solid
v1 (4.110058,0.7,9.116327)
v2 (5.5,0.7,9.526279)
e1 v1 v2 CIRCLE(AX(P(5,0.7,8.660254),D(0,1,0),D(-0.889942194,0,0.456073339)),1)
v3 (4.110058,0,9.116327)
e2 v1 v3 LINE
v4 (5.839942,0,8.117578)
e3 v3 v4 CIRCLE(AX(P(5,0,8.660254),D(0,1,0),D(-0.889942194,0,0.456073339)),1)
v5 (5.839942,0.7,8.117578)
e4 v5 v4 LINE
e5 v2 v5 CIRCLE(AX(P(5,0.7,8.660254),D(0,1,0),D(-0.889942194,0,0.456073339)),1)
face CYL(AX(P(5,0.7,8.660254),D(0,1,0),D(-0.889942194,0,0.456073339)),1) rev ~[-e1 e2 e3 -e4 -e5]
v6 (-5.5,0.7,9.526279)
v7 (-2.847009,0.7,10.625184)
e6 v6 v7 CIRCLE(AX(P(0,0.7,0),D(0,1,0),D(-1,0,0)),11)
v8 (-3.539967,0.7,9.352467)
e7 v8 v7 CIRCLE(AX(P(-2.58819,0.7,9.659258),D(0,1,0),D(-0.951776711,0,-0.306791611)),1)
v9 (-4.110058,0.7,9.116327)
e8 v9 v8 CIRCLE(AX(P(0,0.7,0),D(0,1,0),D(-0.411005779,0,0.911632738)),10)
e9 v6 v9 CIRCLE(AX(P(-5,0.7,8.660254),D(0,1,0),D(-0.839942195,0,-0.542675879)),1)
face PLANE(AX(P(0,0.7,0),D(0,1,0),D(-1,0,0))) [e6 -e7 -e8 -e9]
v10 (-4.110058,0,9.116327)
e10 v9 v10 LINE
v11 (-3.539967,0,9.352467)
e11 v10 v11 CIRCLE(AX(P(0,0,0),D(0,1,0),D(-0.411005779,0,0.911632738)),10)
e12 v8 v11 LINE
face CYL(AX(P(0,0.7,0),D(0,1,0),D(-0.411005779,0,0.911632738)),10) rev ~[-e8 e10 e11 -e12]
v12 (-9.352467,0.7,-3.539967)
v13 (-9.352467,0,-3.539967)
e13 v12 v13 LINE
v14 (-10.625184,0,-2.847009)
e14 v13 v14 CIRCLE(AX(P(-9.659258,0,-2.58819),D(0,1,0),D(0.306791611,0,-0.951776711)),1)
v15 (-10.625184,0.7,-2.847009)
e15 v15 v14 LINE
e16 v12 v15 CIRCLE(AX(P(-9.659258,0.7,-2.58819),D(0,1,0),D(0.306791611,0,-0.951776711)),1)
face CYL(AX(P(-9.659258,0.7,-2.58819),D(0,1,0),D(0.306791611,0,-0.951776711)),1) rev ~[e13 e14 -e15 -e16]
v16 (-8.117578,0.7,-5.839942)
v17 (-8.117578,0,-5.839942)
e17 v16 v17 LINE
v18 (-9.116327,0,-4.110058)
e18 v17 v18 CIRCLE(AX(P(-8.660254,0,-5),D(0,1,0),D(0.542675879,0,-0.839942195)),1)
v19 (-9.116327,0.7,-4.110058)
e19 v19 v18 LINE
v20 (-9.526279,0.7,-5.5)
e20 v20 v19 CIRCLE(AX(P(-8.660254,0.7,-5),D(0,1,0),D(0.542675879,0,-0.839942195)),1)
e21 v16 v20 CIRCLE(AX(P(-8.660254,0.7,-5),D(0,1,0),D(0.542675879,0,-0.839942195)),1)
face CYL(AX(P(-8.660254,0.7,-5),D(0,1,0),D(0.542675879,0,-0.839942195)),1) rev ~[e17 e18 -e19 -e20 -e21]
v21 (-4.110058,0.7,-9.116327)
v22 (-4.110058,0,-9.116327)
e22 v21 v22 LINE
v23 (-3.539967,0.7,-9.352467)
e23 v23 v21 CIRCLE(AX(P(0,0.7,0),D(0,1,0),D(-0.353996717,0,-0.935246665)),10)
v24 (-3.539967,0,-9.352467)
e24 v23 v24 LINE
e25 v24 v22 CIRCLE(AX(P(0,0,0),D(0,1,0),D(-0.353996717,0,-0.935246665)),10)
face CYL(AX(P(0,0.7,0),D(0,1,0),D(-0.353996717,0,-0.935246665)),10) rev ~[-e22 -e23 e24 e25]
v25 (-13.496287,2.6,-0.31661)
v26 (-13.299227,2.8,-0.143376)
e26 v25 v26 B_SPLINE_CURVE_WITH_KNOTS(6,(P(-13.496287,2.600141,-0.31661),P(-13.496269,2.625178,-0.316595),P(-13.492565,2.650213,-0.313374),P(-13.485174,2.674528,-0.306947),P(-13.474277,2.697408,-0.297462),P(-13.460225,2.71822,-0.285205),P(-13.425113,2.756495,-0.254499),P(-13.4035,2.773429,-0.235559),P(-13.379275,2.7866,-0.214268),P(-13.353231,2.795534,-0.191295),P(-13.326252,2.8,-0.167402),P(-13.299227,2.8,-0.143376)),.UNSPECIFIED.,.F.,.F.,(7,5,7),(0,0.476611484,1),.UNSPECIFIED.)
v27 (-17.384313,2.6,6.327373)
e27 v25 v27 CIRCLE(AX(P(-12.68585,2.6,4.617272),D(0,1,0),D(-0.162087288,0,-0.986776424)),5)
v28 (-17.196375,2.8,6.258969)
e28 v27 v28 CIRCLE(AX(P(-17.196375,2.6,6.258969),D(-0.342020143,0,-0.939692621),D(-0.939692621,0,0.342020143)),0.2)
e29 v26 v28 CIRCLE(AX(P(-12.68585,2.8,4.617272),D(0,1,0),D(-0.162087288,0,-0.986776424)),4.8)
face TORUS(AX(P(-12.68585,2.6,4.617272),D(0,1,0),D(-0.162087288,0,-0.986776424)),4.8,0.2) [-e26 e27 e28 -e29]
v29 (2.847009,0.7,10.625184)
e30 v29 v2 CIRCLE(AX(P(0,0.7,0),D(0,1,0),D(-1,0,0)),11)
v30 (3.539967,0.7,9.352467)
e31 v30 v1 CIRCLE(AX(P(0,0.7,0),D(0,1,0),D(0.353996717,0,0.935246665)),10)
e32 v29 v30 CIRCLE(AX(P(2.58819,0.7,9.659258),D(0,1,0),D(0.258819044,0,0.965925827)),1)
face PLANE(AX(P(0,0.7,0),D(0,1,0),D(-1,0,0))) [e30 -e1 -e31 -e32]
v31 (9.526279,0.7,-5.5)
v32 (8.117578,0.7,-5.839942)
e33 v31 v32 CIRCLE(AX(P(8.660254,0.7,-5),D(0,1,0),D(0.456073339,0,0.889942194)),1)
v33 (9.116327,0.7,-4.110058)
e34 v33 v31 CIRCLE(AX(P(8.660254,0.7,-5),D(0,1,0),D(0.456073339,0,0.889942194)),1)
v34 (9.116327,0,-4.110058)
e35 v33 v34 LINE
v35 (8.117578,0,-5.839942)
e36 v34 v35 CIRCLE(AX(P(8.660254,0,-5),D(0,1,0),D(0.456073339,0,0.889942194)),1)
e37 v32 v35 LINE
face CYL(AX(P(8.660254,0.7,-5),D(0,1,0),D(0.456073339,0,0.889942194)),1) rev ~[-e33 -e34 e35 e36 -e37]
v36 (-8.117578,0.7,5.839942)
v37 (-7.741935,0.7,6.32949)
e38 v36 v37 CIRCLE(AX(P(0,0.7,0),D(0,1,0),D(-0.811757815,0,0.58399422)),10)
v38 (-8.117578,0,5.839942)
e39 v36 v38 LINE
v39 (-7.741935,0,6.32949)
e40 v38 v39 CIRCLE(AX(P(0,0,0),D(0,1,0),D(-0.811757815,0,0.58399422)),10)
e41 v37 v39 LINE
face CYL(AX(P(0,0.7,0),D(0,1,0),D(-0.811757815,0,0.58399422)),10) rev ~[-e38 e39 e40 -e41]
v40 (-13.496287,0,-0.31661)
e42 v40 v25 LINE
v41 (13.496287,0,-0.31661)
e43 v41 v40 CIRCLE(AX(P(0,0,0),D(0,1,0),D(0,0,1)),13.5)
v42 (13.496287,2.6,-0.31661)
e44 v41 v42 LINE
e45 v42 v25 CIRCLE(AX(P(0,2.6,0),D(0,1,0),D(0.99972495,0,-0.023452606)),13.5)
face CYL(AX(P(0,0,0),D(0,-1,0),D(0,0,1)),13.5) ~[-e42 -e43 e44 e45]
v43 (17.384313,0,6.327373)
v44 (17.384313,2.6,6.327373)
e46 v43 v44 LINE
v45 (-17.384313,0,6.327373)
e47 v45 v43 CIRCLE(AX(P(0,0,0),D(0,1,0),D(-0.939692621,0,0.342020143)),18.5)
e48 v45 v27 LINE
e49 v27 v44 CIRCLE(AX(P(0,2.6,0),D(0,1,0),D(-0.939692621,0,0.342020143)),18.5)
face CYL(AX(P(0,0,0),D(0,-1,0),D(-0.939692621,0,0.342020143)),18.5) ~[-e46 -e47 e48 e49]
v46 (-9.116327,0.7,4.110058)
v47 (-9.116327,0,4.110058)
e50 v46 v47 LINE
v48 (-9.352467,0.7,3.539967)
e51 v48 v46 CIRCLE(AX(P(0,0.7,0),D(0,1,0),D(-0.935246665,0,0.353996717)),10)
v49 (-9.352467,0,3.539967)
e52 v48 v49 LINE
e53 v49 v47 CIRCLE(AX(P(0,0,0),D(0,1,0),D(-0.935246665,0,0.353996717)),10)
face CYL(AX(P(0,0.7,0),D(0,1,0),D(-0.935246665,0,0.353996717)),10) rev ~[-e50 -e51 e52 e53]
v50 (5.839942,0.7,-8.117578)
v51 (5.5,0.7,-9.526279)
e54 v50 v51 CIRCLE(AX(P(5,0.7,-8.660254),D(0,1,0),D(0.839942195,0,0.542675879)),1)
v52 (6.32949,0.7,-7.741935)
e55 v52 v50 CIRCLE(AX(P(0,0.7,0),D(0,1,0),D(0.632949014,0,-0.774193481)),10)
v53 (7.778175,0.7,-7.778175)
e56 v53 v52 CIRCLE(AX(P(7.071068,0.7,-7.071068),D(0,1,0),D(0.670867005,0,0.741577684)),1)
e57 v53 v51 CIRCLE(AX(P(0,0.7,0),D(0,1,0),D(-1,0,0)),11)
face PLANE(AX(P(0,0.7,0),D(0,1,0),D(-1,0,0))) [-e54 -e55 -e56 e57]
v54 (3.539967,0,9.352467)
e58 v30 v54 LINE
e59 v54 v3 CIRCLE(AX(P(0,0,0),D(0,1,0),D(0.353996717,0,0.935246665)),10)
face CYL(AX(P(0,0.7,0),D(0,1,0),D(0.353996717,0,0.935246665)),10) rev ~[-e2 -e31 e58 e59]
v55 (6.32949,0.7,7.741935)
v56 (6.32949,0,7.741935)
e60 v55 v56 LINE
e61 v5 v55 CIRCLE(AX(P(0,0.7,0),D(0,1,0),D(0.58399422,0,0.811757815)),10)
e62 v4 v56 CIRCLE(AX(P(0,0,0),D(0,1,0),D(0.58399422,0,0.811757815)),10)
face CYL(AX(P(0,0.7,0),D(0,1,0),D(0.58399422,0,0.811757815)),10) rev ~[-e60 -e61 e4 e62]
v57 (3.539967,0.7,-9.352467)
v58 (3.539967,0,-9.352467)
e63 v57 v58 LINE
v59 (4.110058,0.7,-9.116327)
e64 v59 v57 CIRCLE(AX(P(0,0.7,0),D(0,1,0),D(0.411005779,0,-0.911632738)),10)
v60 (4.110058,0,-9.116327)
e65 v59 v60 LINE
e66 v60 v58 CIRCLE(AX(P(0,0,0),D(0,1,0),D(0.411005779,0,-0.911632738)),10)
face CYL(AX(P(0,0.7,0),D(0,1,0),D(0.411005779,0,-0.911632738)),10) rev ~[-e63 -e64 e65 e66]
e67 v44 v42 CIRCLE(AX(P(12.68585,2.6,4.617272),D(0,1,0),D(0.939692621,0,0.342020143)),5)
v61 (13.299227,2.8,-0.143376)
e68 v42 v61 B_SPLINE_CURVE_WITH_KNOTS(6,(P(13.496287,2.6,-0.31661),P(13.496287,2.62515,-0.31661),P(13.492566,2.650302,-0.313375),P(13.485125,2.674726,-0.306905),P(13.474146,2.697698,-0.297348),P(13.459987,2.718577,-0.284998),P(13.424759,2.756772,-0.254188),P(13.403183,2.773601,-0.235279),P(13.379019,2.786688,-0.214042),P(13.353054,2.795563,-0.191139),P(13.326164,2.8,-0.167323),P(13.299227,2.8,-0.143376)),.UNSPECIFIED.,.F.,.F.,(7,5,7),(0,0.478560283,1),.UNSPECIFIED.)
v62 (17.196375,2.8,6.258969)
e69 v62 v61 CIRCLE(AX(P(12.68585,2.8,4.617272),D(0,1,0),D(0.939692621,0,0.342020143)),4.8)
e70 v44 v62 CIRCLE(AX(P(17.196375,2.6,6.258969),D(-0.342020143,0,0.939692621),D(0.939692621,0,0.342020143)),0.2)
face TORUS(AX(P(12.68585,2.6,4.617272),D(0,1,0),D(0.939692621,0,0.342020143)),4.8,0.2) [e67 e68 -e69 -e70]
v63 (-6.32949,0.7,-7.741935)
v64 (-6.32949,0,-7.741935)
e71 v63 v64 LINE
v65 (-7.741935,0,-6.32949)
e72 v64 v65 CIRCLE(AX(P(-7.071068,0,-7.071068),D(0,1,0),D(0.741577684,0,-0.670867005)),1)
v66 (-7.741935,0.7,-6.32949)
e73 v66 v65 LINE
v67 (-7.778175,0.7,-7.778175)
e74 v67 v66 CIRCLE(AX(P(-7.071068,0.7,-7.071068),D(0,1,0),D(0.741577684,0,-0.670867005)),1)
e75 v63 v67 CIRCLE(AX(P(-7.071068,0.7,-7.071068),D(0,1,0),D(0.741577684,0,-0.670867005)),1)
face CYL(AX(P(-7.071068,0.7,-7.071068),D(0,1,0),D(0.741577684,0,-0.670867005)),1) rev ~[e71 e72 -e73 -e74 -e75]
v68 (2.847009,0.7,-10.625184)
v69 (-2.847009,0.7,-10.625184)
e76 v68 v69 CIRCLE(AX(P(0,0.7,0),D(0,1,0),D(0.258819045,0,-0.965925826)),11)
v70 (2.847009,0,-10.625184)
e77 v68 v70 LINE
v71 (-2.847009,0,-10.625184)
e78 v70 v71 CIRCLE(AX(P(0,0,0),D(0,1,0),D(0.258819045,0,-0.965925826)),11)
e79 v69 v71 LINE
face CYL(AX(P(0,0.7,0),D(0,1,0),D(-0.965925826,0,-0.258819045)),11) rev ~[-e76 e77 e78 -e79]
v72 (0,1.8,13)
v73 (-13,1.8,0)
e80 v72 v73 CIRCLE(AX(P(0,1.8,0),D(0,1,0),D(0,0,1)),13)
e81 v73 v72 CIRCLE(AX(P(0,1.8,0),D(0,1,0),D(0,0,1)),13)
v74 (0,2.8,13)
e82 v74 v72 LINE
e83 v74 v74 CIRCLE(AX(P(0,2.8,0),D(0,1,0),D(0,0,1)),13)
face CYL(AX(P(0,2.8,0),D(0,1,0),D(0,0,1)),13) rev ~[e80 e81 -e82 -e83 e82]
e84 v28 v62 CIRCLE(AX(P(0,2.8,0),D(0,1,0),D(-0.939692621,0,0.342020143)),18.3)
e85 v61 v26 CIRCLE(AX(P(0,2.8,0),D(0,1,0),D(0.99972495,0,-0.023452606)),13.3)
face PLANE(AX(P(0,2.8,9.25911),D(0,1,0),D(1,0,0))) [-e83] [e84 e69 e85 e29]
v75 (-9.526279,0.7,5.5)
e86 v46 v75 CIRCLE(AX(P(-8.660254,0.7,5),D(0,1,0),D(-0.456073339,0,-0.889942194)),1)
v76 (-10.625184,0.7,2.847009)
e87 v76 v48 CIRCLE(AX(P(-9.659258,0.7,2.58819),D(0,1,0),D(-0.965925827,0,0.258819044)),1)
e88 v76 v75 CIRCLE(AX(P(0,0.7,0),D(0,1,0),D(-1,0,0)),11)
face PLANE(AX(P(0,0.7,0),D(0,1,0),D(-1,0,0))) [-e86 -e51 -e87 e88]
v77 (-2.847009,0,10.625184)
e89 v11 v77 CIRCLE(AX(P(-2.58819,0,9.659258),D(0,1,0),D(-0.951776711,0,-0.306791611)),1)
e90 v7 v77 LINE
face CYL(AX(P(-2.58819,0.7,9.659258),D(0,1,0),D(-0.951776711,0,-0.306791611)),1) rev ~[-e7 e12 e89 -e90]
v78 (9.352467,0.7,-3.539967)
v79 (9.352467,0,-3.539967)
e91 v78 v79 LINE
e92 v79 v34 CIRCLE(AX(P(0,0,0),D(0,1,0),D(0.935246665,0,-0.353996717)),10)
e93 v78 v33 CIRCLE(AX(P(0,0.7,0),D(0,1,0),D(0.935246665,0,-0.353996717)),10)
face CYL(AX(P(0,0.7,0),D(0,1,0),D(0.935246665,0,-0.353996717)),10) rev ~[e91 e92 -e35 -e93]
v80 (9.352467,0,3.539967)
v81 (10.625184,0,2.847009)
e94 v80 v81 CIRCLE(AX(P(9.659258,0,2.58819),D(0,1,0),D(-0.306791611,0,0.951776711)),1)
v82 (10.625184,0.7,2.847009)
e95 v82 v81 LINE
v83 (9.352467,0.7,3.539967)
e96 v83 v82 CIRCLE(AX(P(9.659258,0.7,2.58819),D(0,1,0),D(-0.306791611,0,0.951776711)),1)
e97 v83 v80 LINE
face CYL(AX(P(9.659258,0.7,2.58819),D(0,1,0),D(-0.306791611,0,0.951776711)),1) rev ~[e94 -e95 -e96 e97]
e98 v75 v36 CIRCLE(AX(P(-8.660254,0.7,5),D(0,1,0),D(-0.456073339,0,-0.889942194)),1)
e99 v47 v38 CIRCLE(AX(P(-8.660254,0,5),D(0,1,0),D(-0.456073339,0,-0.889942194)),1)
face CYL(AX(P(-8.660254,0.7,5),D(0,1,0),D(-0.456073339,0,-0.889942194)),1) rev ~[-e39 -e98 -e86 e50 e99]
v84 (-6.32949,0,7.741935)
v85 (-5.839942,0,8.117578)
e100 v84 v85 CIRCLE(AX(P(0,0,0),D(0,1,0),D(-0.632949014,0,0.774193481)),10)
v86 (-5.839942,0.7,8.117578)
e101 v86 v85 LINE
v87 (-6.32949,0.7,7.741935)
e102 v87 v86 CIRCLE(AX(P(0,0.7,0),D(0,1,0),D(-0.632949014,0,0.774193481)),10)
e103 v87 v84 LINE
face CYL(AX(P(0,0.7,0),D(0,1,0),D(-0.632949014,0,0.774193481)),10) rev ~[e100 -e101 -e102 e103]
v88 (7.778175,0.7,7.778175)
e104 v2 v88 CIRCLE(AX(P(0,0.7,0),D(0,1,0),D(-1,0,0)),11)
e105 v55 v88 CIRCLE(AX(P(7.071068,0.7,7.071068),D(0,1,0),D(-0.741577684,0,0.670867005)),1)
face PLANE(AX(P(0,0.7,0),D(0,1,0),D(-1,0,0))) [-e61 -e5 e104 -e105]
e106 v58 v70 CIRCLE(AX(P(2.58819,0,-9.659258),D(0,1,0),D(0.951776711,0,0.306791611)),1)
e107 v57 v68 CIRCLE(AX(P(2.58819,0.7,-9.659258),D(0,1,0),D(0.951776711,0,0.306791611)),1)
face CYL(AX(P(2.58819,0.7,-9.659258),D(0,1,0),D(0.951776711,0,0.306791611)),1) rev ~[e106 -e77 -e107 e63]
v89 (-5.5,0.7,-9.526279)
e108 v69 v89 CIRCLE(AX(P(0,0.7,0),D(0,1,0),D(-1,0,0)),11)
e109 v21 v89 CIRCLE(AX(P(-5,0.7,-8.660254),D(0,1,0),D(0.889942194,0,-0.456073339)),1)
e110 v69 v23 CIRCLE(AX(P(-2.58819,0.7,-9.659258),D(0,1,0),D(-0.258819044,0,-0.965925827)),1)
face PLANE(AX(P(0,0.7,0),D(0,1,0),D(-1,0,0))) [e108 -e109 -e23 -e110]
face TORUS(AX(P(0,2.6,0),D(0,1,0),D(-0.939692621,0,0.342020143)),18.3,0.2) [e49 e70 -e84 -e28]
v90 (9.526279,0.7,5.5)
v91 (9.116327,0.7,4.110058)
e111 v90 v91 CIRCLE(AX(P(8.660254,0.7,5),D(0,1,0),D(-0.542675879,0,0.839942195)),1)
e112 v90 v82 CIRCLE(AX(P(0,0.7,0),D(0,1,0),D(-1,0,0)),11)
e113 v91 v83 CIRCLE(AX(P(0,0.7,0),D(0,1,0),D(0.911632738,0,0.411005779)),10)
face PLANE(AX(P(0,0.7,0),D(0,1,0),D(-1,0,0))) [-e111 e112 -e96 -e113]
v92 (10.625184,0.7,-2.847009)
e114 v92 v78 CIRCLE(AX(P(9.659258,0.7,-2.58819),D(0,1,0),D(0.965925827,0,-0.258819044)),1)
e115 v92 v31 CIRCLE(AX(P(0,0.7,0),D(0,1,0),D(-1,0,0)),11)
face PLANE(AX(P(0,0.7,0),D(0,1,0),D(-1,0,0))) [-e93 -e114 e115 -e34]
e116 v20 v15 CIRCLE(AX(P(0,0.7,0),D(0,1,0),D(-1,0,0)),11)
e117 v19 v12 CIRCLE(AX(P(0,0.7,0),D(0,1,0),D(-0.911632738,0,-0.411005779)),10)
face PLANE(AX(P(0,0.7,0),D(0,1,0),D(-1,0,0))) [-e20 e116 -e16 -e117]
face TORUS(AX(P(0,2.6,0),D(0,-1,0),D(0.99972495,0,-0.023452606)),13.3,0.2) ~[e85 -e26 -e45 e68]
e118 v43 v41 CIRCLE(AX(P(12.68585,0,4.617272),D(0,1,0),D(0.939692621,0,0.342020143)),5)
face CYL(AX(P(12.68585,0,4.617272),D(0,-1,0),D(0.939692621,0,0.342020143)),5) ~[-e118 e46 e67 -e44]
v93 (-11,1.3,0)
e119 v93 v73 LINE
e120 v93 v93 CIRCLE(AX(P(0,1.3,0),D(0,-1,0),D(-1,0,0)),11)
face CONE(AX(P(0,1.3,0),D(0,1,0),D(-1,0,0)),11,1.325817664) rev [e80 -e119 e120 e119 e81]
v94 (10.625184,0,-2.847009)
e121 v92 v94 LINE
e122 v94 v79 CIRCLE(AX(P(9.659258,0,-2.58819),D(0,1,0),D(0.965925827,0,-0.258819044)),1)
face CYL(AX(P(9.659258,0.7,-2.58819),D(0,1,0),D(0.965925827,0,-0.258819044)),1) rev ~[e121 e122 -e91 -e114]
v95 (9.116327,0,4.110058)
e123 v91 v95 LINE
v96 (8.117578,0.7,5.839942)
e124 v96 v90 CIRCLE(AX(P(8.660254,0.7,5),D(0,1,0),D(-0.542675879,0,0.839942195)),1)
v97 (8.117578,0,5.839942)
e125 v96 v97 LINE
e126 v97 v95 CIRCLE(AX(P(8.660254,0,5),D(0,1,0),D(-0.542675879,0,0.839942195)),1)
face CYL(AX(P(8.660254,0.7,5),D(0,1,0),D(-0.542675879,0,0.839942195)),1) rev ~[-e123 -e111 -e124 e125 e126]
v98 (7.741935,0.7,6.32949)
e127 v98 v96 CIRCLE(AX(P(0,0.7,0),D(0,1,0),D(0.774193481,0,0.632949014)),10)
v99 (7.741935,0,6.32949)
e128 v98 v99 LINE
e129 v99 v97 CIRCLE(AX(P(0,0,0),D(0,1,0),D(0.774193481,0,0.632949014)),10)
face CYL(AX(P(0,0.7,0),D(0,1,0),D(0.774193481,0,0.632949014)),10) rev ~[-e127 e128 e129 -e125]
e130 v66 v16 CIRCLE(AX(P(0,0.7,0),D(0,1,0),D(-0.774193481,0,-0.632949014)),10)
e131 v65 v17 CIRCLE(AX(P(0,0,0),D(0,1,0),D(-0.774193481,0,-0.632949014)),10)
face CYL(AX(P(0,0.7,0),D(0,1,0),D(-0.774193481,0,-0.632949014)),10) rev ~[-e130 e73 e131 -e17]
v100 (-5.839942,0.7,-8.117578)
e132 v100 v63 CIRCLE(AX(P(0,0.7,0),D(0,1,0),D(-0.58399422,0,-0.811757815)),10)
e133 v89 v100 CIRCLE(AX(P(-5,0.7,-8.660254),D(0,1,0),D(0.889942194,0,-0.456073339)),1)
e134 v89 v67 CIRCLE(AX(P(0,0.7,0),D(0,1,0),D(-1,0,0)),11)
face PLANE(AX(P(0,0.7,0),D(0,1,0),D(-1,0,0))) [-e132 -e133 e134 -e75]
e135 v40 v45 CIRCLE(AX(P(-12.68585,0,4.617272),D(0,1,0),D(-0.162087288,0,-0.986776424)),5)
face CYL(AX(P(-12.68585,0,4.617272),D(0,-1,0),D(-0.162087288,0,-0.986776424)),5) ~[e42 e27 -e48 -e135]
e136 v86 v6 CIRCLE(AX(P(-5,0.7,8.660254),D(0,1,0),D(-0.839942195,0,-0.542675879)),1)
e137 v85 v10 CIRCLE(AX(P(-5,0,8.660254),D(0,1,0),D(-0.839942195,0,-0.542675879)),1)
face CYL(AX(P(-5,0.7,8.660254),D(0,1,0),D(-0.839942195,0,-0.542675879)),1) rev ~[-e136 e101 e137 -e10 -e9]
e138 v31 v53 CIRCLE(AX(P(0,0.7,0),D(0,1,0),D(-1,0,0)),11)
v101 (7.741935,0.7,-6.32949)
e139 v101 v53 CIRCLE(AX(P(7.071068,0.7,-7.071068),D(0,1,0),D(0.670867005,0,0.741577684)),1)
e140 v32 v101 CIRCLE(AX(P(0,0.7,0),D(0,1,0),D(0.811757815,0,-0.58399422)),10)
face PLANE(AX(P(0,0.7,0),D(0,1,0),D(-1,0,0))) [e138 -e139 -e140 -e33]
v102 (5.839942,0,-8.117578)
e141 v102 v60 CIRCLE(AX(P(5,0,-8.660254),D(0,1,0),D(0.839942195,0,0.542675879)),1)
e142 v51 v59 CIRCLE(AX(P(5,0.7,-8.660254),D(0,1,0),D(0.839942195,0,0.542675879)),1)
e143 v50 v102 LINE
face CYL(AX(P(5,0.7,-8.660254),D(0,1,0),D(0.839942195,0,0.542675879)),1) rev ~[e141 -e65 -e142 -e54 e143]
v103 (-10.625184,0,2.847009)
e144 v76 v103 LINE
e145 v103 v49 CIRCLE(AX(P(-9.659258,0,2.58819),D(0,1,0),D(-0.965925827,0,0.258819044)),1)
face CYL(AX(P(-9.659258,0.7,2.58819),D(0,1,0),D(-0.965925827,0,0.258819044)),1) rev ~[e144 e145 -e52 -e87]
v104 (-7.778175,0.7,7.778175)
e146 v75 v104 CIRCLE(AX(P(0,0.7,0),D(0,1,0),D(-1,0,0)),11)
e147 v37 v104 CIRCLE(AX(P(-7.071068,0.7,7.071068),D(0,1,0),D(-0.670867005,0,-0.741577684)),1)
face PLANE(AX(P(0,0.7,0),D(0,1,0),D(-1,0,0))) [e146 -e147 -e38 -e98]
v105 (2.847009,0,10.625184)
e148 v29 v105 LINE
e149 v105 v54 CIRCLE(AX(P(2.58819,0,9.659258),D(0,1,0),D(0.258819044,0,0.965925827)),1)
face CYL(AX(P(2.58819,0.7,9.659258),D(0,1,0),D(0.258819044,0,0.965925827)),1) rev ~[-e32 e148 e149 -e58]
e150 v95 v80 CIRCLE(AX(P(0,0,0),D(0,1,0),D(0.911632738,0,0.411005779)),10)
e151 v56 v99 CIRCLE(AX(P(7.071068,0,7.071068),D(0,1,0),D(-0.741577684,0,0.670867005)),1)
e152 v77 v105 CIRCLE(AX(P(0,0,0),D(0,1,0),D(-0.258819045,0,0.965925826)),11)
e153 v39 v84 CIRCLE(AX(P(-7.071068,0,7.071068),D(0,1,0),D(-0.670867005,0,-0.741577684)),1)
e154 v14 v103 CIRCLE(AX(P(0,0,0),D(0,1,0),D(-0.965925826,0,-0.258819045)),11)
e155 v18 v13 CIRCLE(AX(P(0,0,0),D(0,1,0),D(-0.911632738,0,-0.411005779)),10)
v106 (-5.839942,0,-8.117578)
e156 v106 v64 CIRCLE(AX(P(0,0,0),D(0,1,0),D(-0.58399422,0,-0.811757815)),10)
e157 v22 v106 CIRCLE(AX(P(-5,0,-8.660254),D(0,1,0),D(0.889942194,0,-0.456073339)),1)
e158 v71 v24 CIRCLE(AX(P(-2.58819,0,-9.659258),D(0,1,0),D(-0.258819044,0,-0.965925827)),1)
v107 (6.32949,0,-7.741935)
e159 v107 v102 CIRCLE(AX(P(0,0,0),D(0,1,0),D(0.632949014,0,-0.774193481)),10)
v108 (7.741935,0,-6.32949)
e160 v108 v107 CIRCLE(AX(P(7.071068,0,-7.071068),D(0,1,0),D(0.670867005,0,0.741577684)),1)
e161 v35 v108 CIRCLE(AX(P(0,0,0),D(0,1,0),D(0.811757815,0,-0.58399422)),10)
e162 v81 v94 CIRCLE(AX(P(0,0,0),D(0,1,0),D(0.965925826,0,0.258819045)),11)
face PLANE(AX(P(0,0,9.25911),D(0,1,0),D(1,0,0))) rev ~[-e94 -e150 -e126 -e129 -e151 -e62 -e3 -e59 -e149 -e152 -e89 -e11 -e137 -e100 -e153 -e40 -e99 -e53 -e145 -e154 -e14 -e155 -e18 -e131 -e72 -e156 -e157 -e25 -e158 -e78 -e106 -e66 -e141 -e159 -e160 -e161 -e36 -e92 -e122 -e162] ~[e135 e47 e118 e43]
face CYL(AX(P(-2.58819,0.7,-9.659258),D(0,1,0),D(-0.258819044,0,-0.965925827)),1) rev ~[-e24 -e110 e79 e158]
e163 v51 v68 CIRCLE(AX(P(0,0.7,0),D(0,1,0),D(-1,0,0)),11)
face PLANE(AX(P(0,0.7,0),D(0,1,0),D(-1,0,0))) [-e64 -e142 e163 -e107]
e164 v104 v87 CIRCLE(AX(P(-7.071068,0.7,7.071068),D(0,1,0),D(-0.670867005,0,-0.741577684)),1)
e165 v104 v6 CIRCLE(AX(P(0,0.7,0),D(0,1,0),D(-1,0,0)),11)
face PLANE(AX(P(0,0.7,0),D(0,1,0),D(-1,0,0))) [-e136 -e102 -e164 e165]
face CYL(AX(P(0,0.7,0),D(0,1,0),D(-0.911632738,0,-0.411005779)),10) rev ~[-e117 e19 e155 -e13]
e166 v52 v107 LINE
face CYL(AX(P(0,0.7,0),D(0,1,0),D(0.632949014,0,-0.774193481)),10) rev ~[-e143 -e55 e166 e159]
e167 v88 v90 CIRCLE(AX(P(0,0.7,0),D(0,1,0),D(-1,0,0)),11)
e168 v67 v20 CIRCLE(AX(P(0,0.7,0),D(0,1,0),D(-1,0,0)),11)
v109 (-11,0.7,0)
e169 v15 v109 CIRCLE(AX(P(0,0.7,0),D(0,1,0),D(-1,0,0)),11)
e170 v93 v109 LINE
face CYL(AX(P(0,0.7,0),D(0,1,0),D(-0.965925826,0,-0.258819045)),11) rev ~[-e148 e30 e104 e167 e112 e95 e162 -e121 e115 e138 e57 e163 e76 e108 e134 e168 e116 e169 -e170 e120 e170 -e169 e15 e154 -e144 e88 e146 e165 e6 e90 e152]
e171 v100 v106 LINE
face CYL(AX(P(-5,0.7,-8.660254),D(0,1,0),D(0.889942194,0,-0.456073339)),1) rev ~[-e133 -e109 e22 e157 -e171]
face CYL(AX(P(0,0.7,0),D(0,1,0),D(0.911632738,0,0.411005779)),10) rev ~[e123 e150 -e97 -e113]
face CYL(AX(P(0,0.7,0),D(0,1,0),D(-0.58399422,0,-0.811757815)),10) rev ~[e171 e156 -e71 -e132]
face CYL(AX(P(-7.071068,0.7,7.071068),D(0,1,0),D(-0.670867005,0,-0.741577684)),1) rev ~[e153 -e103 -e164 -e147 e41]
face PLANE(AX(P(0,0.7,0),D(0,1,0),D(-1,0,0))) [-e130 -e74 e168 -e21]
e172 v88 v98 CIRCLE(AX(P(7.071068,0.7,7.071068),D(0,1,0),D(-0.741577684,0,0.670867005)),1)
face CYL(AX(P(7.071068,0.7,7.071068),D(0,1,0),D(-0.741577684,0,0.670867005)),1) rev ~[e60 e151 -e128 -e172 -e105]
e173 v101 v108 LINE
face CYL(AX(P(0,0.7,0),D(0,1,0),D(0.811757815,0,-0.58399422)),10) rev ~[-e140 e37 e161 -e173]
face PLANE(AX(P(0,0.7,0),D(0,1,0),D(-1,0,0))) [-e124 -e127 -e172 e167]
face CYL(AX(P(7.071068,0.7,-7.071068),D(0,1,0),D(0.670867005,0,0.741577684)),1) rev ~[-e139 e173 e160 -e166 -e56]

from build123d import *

# Parameters (mm, degrees)
SKETCH_1_R          = 13.5
EXTRUDE_1_DEPTH     = 2.8
SKETCH_2_R          = 13
CUT_EXTRUDE_1_DEPTH = 1
SKETCH_5_R          = 11
CUT_EXTRUDE_2_DEPTH = 0.6
CUT_EXTRUDE_3_DEPTH = 0.7
EXTRUDE_2_DEPTH     = 2.8
FILLET_1_R          = 0.2


with BuildPart() as part:
    # 草图1 → 凸台-拉伸1 (new body)
    with BuildSketch(Plane(origin=(0, 0, 0), x_dir=(1, 0, 0), z_dir=(0, 1, 0))):
        with Locations(Location((0, 0, 0), (0, 0, 270))):
            Circle(SKETCH_1_R)
    extrude(amount=EXTRUDE_1_DEPTH)

    # 草图2 → 切除-拉伸1 (cut)
    with BuildSketch(Plane(origin=(0, 2.8, 0), x_dir=(1, 0, 0), z_dir=(0, 1, 0))):
        with Locations(Location((0, 0, 0), (0, 0, 270))):
            Circle(SKETCH_2_R)
    extrude(amount=-CUT_EXTRUDE_1_DEPTH, mode=Mode.SUBTRACT)

    # 草图4 → 切除-旋转1 (revolve, cut)
    with BuildSketch(Plane.XY):
        Polygon((0, 1.3), (-11, 1.3), (-13, 1.8), (0, 1.8), align=None)
    revolve(axis=Axis((0, 1.8, 0), (0, -1, 0)), mode=Mode.SUBTRACT)

    # 草图5 → 切除-拉伸2 (cut)
    with BuildSketch(Plane(origin=(0, 1.3, 0), x_dir=(1, 0, 0), z_dir=(0, 1, 0))):
        with Locations(Location((0, 0, 0), (0, 0, 180))):
            Circle(SKETCH_5_R)
    extrude(amount=-CUT_EXTRUDE_2_DEPTH, mode=Mode.SUBTRACT)

    # 草图6 → 切除-拉伸3 (cut)
    with BuildSketch(Plane(origin=(0, 0.7, 0), x_dir=(1, 0, 0), z_dir=(0, 1, 0))):
        with BuildLine():
            ThreePointArc((-3.539967162, 9.352466653), (-3.826834324, 9.238795325), (-4.110057805, 9.116327377))
            ThreePointArc((-4.110057805, 9.116327377), (-5.5, 9.526279442), (-5.839942195, 8.117578159))
            ThreePointArc((-5.839942195, 8.117578159), (-6.08761429, 7.933533403), (-6.329490128, 7.741934817))
            ThreePointArc((-6.329490128, 7.741934817), (-7.778174593, 7.778174593), (-7.741934817, 6.329490128))
            ThreePointArc((-7.741934817, 6.329490128), (-7.933533403, 6.08761429), (-8.117578159, 5.839942195))
            ThreePointArc((-8.117578159, 5.839942195), (-9.526279442, 5.5), (-9.116327377, 4.110057805))
            ThreePointArc((-9.116327377, 4.110057805), (-9.238795325, 3.826834324), (-9.352466653, 3.539967162))
            ThreePointArc((-9.352466653, 3.539967162), (-10.137444482, 3.466448921), (-10.625184089, 2.847009496))
            ThreePointArc((-10.625184089, 2.847009496), (-11, 0), (-10.625184089, -2.847009496))
            ThreePointArc((-10.625184089, -2.847009496), (-10.137444482, -3.466448921), (-9.352466653, -3.539967162))
            ThreePointArc((-9.352466653, -3.539967162), (-9.238795325, -3.826834324), (-9.116327377, -4.110057805))
            ThreePointArc((-9.116327377, -4.110057805), (-9.526279442, -5.5), (-8.117578159, -5.839942195))
            ThreePointArc((-8.117578159, -5.839942195), (-7.933533403, -6.08761429), (-7.741934817, -6.329490128))
            ThreePointArc((-7.741934817, -6.329490128), (-7.778174593, -7.778174593), (-6.329490128, -7.741934817))
            ThreePointArc((-6.329490128, -7.741934817), (-6.08761429, -7.933533403), (-5.839942195, -8.117578159))
            ThreePointArc((-5.839942195, -8.117578159), (-5.5, -9.526279442), (-4.110057805, -9.116327377))
            ThreePointArc((-4.110057805, -9.116327377), (-3.826834324, -9.238795325), (-3.539967162, -9.352466653))
            ThreePointArc((-3.539967162, -9.352466653), (-3.466448921, -10.137444482), (-2.847009496, -10.625184089))
            ThreePointArc((-2.847009496, -10.625184089), (0, -11), (2.847009496, -10.625184089))
            ThreePointArc((2.847009496, -10.625184089), (3.466448921, -10.137444482), (3.539967162, -9.352466653))
            ThreePointArc((3.539967162, -9.352466653), (3.826834324, -9.238795325), (4.110057805, -9.116327377))
            ThreePointArc((4.110057805, -9.116327377), (5.5, -9.526279442), (5.839942195, -8.117578159))
            ThreePointArc((5.839942195, -8.117578159), (6.08761429, -7.933533403), (6.329490128, -7.741934817))
            ThreePointArc((6.329490128, -7.741934817), (7.778174593, -7.778174593), (7.741934817, -6.329490128))
            ThreePointArc((7.741934817, -6.329490128), (7.933533403, -6.08761429), (8.117578159, -5.839942195))
            ThreePointArc((8.117578159, -5.839942195), (9.526279442, -5.5), (9.116327377, -4.110057805))
            ThreePointArc((9.116327377, -4.110057805), (9.238795325, -3.826834324), (9.352466653, -3.539967162))
            ThreePointArc((9.352466653, -3.539967162), (10.137444482, -3.466448921), (10.625184089, -2.847009496))
            ThreePointArc((10.625184089, -2.847009496), (11, 0), (10.625184089, 2.847009496))
            ThreePointArc((10.625184089, 2.847009496), (10.137444482, 3.466448921), (9.352466653, 3.539967162))
            ThreePointArc((9.352466653, 3.539967162), (9.238795325, 3.826834324), (9.116327377, 4.110057805))
            ThreePointArc((9.116327377, 4.110057805), (9.526279442, 5.5), (8.117578159, 5.839942195))
            ThreePointArc((8.117578159, 5.839942195), (7.933533403, 6.08761429), (7.741934817, 6.329490128))
            ThreePointArc((7.741934817, 6.329490128), (7.778174593, 7.778174593), (6.329490128, 7.741934817))
            ThreePointArc((6.329490128, 7.741934817), (6.08761429, 7.933533403), (5.839942195, 8.117578159))
            ThreePointArc((5.839942195, 8.117578159), (5.5, 9.526279442), (4.110057805, 9.116327377))
            ThreePointArc((4.110057805, 9.116327377), (3.826834324, 9.238795325), (3.539967162, 9.352466653))
            ThreePointArc((3.539967162, 9.352466653), (3.466448921, 10.137444482), (2.847009496, 10.625184089))
            ThreePointArc((2.847009496, 10.625184089), (0, 11), (-2.847009496, 10.625184089))
            ThreePointArc((-2.847009496, 10.625184089), (-3.466448921, 10.137444482), (-3.539967162, 9.352466653))
        make_face()
    extrude(amount=-CUT_EXTRUDE_3_DEPTH, mode=Mode.SUBTRACT)

    # 草图7 → 凸台-拉伸2 (add)
    with BuildSketch(Plane(origin=(0, 0, 0), x_dir=(1, 0, 0), z_dir=(0, 1, 0))):
        with BuildLine():
            ThreePointArc((-17.384313485, -6.327372652), (0, -18.5), (17.384313485, -6.327372652))
            ThreePointArc((17.384313485, -6.327372652), (17.00124382, -2.09192454), (13.496286822, 0.316610185))
            ThreePointArc((13.496286822, 0.316610185), (0, -13.5), (-13.496286822, 0.316610185))
            ThreePointArc((-13.496286822, 0.316610185), (-17.00124382, -2.09192454), (-17.384313485, -6.327372652))
        make_face()
    extrude(amount=EXTRUDE_2_DEPTH)

    # 圆角1
    fillet_1_edges = [part.edges().sort_by_distance(p)[0] for p in [
        (-17.00124382, 2.8, 2.09192454),
        (0, 2.8, 18.5),
        (17.00124382, 2.8, 2.09192454),
        (0, 2.8, -13.5),
    ]]
    fillet(fillet_1_edges, radius=FILLET_1_R)


solid = part.part
